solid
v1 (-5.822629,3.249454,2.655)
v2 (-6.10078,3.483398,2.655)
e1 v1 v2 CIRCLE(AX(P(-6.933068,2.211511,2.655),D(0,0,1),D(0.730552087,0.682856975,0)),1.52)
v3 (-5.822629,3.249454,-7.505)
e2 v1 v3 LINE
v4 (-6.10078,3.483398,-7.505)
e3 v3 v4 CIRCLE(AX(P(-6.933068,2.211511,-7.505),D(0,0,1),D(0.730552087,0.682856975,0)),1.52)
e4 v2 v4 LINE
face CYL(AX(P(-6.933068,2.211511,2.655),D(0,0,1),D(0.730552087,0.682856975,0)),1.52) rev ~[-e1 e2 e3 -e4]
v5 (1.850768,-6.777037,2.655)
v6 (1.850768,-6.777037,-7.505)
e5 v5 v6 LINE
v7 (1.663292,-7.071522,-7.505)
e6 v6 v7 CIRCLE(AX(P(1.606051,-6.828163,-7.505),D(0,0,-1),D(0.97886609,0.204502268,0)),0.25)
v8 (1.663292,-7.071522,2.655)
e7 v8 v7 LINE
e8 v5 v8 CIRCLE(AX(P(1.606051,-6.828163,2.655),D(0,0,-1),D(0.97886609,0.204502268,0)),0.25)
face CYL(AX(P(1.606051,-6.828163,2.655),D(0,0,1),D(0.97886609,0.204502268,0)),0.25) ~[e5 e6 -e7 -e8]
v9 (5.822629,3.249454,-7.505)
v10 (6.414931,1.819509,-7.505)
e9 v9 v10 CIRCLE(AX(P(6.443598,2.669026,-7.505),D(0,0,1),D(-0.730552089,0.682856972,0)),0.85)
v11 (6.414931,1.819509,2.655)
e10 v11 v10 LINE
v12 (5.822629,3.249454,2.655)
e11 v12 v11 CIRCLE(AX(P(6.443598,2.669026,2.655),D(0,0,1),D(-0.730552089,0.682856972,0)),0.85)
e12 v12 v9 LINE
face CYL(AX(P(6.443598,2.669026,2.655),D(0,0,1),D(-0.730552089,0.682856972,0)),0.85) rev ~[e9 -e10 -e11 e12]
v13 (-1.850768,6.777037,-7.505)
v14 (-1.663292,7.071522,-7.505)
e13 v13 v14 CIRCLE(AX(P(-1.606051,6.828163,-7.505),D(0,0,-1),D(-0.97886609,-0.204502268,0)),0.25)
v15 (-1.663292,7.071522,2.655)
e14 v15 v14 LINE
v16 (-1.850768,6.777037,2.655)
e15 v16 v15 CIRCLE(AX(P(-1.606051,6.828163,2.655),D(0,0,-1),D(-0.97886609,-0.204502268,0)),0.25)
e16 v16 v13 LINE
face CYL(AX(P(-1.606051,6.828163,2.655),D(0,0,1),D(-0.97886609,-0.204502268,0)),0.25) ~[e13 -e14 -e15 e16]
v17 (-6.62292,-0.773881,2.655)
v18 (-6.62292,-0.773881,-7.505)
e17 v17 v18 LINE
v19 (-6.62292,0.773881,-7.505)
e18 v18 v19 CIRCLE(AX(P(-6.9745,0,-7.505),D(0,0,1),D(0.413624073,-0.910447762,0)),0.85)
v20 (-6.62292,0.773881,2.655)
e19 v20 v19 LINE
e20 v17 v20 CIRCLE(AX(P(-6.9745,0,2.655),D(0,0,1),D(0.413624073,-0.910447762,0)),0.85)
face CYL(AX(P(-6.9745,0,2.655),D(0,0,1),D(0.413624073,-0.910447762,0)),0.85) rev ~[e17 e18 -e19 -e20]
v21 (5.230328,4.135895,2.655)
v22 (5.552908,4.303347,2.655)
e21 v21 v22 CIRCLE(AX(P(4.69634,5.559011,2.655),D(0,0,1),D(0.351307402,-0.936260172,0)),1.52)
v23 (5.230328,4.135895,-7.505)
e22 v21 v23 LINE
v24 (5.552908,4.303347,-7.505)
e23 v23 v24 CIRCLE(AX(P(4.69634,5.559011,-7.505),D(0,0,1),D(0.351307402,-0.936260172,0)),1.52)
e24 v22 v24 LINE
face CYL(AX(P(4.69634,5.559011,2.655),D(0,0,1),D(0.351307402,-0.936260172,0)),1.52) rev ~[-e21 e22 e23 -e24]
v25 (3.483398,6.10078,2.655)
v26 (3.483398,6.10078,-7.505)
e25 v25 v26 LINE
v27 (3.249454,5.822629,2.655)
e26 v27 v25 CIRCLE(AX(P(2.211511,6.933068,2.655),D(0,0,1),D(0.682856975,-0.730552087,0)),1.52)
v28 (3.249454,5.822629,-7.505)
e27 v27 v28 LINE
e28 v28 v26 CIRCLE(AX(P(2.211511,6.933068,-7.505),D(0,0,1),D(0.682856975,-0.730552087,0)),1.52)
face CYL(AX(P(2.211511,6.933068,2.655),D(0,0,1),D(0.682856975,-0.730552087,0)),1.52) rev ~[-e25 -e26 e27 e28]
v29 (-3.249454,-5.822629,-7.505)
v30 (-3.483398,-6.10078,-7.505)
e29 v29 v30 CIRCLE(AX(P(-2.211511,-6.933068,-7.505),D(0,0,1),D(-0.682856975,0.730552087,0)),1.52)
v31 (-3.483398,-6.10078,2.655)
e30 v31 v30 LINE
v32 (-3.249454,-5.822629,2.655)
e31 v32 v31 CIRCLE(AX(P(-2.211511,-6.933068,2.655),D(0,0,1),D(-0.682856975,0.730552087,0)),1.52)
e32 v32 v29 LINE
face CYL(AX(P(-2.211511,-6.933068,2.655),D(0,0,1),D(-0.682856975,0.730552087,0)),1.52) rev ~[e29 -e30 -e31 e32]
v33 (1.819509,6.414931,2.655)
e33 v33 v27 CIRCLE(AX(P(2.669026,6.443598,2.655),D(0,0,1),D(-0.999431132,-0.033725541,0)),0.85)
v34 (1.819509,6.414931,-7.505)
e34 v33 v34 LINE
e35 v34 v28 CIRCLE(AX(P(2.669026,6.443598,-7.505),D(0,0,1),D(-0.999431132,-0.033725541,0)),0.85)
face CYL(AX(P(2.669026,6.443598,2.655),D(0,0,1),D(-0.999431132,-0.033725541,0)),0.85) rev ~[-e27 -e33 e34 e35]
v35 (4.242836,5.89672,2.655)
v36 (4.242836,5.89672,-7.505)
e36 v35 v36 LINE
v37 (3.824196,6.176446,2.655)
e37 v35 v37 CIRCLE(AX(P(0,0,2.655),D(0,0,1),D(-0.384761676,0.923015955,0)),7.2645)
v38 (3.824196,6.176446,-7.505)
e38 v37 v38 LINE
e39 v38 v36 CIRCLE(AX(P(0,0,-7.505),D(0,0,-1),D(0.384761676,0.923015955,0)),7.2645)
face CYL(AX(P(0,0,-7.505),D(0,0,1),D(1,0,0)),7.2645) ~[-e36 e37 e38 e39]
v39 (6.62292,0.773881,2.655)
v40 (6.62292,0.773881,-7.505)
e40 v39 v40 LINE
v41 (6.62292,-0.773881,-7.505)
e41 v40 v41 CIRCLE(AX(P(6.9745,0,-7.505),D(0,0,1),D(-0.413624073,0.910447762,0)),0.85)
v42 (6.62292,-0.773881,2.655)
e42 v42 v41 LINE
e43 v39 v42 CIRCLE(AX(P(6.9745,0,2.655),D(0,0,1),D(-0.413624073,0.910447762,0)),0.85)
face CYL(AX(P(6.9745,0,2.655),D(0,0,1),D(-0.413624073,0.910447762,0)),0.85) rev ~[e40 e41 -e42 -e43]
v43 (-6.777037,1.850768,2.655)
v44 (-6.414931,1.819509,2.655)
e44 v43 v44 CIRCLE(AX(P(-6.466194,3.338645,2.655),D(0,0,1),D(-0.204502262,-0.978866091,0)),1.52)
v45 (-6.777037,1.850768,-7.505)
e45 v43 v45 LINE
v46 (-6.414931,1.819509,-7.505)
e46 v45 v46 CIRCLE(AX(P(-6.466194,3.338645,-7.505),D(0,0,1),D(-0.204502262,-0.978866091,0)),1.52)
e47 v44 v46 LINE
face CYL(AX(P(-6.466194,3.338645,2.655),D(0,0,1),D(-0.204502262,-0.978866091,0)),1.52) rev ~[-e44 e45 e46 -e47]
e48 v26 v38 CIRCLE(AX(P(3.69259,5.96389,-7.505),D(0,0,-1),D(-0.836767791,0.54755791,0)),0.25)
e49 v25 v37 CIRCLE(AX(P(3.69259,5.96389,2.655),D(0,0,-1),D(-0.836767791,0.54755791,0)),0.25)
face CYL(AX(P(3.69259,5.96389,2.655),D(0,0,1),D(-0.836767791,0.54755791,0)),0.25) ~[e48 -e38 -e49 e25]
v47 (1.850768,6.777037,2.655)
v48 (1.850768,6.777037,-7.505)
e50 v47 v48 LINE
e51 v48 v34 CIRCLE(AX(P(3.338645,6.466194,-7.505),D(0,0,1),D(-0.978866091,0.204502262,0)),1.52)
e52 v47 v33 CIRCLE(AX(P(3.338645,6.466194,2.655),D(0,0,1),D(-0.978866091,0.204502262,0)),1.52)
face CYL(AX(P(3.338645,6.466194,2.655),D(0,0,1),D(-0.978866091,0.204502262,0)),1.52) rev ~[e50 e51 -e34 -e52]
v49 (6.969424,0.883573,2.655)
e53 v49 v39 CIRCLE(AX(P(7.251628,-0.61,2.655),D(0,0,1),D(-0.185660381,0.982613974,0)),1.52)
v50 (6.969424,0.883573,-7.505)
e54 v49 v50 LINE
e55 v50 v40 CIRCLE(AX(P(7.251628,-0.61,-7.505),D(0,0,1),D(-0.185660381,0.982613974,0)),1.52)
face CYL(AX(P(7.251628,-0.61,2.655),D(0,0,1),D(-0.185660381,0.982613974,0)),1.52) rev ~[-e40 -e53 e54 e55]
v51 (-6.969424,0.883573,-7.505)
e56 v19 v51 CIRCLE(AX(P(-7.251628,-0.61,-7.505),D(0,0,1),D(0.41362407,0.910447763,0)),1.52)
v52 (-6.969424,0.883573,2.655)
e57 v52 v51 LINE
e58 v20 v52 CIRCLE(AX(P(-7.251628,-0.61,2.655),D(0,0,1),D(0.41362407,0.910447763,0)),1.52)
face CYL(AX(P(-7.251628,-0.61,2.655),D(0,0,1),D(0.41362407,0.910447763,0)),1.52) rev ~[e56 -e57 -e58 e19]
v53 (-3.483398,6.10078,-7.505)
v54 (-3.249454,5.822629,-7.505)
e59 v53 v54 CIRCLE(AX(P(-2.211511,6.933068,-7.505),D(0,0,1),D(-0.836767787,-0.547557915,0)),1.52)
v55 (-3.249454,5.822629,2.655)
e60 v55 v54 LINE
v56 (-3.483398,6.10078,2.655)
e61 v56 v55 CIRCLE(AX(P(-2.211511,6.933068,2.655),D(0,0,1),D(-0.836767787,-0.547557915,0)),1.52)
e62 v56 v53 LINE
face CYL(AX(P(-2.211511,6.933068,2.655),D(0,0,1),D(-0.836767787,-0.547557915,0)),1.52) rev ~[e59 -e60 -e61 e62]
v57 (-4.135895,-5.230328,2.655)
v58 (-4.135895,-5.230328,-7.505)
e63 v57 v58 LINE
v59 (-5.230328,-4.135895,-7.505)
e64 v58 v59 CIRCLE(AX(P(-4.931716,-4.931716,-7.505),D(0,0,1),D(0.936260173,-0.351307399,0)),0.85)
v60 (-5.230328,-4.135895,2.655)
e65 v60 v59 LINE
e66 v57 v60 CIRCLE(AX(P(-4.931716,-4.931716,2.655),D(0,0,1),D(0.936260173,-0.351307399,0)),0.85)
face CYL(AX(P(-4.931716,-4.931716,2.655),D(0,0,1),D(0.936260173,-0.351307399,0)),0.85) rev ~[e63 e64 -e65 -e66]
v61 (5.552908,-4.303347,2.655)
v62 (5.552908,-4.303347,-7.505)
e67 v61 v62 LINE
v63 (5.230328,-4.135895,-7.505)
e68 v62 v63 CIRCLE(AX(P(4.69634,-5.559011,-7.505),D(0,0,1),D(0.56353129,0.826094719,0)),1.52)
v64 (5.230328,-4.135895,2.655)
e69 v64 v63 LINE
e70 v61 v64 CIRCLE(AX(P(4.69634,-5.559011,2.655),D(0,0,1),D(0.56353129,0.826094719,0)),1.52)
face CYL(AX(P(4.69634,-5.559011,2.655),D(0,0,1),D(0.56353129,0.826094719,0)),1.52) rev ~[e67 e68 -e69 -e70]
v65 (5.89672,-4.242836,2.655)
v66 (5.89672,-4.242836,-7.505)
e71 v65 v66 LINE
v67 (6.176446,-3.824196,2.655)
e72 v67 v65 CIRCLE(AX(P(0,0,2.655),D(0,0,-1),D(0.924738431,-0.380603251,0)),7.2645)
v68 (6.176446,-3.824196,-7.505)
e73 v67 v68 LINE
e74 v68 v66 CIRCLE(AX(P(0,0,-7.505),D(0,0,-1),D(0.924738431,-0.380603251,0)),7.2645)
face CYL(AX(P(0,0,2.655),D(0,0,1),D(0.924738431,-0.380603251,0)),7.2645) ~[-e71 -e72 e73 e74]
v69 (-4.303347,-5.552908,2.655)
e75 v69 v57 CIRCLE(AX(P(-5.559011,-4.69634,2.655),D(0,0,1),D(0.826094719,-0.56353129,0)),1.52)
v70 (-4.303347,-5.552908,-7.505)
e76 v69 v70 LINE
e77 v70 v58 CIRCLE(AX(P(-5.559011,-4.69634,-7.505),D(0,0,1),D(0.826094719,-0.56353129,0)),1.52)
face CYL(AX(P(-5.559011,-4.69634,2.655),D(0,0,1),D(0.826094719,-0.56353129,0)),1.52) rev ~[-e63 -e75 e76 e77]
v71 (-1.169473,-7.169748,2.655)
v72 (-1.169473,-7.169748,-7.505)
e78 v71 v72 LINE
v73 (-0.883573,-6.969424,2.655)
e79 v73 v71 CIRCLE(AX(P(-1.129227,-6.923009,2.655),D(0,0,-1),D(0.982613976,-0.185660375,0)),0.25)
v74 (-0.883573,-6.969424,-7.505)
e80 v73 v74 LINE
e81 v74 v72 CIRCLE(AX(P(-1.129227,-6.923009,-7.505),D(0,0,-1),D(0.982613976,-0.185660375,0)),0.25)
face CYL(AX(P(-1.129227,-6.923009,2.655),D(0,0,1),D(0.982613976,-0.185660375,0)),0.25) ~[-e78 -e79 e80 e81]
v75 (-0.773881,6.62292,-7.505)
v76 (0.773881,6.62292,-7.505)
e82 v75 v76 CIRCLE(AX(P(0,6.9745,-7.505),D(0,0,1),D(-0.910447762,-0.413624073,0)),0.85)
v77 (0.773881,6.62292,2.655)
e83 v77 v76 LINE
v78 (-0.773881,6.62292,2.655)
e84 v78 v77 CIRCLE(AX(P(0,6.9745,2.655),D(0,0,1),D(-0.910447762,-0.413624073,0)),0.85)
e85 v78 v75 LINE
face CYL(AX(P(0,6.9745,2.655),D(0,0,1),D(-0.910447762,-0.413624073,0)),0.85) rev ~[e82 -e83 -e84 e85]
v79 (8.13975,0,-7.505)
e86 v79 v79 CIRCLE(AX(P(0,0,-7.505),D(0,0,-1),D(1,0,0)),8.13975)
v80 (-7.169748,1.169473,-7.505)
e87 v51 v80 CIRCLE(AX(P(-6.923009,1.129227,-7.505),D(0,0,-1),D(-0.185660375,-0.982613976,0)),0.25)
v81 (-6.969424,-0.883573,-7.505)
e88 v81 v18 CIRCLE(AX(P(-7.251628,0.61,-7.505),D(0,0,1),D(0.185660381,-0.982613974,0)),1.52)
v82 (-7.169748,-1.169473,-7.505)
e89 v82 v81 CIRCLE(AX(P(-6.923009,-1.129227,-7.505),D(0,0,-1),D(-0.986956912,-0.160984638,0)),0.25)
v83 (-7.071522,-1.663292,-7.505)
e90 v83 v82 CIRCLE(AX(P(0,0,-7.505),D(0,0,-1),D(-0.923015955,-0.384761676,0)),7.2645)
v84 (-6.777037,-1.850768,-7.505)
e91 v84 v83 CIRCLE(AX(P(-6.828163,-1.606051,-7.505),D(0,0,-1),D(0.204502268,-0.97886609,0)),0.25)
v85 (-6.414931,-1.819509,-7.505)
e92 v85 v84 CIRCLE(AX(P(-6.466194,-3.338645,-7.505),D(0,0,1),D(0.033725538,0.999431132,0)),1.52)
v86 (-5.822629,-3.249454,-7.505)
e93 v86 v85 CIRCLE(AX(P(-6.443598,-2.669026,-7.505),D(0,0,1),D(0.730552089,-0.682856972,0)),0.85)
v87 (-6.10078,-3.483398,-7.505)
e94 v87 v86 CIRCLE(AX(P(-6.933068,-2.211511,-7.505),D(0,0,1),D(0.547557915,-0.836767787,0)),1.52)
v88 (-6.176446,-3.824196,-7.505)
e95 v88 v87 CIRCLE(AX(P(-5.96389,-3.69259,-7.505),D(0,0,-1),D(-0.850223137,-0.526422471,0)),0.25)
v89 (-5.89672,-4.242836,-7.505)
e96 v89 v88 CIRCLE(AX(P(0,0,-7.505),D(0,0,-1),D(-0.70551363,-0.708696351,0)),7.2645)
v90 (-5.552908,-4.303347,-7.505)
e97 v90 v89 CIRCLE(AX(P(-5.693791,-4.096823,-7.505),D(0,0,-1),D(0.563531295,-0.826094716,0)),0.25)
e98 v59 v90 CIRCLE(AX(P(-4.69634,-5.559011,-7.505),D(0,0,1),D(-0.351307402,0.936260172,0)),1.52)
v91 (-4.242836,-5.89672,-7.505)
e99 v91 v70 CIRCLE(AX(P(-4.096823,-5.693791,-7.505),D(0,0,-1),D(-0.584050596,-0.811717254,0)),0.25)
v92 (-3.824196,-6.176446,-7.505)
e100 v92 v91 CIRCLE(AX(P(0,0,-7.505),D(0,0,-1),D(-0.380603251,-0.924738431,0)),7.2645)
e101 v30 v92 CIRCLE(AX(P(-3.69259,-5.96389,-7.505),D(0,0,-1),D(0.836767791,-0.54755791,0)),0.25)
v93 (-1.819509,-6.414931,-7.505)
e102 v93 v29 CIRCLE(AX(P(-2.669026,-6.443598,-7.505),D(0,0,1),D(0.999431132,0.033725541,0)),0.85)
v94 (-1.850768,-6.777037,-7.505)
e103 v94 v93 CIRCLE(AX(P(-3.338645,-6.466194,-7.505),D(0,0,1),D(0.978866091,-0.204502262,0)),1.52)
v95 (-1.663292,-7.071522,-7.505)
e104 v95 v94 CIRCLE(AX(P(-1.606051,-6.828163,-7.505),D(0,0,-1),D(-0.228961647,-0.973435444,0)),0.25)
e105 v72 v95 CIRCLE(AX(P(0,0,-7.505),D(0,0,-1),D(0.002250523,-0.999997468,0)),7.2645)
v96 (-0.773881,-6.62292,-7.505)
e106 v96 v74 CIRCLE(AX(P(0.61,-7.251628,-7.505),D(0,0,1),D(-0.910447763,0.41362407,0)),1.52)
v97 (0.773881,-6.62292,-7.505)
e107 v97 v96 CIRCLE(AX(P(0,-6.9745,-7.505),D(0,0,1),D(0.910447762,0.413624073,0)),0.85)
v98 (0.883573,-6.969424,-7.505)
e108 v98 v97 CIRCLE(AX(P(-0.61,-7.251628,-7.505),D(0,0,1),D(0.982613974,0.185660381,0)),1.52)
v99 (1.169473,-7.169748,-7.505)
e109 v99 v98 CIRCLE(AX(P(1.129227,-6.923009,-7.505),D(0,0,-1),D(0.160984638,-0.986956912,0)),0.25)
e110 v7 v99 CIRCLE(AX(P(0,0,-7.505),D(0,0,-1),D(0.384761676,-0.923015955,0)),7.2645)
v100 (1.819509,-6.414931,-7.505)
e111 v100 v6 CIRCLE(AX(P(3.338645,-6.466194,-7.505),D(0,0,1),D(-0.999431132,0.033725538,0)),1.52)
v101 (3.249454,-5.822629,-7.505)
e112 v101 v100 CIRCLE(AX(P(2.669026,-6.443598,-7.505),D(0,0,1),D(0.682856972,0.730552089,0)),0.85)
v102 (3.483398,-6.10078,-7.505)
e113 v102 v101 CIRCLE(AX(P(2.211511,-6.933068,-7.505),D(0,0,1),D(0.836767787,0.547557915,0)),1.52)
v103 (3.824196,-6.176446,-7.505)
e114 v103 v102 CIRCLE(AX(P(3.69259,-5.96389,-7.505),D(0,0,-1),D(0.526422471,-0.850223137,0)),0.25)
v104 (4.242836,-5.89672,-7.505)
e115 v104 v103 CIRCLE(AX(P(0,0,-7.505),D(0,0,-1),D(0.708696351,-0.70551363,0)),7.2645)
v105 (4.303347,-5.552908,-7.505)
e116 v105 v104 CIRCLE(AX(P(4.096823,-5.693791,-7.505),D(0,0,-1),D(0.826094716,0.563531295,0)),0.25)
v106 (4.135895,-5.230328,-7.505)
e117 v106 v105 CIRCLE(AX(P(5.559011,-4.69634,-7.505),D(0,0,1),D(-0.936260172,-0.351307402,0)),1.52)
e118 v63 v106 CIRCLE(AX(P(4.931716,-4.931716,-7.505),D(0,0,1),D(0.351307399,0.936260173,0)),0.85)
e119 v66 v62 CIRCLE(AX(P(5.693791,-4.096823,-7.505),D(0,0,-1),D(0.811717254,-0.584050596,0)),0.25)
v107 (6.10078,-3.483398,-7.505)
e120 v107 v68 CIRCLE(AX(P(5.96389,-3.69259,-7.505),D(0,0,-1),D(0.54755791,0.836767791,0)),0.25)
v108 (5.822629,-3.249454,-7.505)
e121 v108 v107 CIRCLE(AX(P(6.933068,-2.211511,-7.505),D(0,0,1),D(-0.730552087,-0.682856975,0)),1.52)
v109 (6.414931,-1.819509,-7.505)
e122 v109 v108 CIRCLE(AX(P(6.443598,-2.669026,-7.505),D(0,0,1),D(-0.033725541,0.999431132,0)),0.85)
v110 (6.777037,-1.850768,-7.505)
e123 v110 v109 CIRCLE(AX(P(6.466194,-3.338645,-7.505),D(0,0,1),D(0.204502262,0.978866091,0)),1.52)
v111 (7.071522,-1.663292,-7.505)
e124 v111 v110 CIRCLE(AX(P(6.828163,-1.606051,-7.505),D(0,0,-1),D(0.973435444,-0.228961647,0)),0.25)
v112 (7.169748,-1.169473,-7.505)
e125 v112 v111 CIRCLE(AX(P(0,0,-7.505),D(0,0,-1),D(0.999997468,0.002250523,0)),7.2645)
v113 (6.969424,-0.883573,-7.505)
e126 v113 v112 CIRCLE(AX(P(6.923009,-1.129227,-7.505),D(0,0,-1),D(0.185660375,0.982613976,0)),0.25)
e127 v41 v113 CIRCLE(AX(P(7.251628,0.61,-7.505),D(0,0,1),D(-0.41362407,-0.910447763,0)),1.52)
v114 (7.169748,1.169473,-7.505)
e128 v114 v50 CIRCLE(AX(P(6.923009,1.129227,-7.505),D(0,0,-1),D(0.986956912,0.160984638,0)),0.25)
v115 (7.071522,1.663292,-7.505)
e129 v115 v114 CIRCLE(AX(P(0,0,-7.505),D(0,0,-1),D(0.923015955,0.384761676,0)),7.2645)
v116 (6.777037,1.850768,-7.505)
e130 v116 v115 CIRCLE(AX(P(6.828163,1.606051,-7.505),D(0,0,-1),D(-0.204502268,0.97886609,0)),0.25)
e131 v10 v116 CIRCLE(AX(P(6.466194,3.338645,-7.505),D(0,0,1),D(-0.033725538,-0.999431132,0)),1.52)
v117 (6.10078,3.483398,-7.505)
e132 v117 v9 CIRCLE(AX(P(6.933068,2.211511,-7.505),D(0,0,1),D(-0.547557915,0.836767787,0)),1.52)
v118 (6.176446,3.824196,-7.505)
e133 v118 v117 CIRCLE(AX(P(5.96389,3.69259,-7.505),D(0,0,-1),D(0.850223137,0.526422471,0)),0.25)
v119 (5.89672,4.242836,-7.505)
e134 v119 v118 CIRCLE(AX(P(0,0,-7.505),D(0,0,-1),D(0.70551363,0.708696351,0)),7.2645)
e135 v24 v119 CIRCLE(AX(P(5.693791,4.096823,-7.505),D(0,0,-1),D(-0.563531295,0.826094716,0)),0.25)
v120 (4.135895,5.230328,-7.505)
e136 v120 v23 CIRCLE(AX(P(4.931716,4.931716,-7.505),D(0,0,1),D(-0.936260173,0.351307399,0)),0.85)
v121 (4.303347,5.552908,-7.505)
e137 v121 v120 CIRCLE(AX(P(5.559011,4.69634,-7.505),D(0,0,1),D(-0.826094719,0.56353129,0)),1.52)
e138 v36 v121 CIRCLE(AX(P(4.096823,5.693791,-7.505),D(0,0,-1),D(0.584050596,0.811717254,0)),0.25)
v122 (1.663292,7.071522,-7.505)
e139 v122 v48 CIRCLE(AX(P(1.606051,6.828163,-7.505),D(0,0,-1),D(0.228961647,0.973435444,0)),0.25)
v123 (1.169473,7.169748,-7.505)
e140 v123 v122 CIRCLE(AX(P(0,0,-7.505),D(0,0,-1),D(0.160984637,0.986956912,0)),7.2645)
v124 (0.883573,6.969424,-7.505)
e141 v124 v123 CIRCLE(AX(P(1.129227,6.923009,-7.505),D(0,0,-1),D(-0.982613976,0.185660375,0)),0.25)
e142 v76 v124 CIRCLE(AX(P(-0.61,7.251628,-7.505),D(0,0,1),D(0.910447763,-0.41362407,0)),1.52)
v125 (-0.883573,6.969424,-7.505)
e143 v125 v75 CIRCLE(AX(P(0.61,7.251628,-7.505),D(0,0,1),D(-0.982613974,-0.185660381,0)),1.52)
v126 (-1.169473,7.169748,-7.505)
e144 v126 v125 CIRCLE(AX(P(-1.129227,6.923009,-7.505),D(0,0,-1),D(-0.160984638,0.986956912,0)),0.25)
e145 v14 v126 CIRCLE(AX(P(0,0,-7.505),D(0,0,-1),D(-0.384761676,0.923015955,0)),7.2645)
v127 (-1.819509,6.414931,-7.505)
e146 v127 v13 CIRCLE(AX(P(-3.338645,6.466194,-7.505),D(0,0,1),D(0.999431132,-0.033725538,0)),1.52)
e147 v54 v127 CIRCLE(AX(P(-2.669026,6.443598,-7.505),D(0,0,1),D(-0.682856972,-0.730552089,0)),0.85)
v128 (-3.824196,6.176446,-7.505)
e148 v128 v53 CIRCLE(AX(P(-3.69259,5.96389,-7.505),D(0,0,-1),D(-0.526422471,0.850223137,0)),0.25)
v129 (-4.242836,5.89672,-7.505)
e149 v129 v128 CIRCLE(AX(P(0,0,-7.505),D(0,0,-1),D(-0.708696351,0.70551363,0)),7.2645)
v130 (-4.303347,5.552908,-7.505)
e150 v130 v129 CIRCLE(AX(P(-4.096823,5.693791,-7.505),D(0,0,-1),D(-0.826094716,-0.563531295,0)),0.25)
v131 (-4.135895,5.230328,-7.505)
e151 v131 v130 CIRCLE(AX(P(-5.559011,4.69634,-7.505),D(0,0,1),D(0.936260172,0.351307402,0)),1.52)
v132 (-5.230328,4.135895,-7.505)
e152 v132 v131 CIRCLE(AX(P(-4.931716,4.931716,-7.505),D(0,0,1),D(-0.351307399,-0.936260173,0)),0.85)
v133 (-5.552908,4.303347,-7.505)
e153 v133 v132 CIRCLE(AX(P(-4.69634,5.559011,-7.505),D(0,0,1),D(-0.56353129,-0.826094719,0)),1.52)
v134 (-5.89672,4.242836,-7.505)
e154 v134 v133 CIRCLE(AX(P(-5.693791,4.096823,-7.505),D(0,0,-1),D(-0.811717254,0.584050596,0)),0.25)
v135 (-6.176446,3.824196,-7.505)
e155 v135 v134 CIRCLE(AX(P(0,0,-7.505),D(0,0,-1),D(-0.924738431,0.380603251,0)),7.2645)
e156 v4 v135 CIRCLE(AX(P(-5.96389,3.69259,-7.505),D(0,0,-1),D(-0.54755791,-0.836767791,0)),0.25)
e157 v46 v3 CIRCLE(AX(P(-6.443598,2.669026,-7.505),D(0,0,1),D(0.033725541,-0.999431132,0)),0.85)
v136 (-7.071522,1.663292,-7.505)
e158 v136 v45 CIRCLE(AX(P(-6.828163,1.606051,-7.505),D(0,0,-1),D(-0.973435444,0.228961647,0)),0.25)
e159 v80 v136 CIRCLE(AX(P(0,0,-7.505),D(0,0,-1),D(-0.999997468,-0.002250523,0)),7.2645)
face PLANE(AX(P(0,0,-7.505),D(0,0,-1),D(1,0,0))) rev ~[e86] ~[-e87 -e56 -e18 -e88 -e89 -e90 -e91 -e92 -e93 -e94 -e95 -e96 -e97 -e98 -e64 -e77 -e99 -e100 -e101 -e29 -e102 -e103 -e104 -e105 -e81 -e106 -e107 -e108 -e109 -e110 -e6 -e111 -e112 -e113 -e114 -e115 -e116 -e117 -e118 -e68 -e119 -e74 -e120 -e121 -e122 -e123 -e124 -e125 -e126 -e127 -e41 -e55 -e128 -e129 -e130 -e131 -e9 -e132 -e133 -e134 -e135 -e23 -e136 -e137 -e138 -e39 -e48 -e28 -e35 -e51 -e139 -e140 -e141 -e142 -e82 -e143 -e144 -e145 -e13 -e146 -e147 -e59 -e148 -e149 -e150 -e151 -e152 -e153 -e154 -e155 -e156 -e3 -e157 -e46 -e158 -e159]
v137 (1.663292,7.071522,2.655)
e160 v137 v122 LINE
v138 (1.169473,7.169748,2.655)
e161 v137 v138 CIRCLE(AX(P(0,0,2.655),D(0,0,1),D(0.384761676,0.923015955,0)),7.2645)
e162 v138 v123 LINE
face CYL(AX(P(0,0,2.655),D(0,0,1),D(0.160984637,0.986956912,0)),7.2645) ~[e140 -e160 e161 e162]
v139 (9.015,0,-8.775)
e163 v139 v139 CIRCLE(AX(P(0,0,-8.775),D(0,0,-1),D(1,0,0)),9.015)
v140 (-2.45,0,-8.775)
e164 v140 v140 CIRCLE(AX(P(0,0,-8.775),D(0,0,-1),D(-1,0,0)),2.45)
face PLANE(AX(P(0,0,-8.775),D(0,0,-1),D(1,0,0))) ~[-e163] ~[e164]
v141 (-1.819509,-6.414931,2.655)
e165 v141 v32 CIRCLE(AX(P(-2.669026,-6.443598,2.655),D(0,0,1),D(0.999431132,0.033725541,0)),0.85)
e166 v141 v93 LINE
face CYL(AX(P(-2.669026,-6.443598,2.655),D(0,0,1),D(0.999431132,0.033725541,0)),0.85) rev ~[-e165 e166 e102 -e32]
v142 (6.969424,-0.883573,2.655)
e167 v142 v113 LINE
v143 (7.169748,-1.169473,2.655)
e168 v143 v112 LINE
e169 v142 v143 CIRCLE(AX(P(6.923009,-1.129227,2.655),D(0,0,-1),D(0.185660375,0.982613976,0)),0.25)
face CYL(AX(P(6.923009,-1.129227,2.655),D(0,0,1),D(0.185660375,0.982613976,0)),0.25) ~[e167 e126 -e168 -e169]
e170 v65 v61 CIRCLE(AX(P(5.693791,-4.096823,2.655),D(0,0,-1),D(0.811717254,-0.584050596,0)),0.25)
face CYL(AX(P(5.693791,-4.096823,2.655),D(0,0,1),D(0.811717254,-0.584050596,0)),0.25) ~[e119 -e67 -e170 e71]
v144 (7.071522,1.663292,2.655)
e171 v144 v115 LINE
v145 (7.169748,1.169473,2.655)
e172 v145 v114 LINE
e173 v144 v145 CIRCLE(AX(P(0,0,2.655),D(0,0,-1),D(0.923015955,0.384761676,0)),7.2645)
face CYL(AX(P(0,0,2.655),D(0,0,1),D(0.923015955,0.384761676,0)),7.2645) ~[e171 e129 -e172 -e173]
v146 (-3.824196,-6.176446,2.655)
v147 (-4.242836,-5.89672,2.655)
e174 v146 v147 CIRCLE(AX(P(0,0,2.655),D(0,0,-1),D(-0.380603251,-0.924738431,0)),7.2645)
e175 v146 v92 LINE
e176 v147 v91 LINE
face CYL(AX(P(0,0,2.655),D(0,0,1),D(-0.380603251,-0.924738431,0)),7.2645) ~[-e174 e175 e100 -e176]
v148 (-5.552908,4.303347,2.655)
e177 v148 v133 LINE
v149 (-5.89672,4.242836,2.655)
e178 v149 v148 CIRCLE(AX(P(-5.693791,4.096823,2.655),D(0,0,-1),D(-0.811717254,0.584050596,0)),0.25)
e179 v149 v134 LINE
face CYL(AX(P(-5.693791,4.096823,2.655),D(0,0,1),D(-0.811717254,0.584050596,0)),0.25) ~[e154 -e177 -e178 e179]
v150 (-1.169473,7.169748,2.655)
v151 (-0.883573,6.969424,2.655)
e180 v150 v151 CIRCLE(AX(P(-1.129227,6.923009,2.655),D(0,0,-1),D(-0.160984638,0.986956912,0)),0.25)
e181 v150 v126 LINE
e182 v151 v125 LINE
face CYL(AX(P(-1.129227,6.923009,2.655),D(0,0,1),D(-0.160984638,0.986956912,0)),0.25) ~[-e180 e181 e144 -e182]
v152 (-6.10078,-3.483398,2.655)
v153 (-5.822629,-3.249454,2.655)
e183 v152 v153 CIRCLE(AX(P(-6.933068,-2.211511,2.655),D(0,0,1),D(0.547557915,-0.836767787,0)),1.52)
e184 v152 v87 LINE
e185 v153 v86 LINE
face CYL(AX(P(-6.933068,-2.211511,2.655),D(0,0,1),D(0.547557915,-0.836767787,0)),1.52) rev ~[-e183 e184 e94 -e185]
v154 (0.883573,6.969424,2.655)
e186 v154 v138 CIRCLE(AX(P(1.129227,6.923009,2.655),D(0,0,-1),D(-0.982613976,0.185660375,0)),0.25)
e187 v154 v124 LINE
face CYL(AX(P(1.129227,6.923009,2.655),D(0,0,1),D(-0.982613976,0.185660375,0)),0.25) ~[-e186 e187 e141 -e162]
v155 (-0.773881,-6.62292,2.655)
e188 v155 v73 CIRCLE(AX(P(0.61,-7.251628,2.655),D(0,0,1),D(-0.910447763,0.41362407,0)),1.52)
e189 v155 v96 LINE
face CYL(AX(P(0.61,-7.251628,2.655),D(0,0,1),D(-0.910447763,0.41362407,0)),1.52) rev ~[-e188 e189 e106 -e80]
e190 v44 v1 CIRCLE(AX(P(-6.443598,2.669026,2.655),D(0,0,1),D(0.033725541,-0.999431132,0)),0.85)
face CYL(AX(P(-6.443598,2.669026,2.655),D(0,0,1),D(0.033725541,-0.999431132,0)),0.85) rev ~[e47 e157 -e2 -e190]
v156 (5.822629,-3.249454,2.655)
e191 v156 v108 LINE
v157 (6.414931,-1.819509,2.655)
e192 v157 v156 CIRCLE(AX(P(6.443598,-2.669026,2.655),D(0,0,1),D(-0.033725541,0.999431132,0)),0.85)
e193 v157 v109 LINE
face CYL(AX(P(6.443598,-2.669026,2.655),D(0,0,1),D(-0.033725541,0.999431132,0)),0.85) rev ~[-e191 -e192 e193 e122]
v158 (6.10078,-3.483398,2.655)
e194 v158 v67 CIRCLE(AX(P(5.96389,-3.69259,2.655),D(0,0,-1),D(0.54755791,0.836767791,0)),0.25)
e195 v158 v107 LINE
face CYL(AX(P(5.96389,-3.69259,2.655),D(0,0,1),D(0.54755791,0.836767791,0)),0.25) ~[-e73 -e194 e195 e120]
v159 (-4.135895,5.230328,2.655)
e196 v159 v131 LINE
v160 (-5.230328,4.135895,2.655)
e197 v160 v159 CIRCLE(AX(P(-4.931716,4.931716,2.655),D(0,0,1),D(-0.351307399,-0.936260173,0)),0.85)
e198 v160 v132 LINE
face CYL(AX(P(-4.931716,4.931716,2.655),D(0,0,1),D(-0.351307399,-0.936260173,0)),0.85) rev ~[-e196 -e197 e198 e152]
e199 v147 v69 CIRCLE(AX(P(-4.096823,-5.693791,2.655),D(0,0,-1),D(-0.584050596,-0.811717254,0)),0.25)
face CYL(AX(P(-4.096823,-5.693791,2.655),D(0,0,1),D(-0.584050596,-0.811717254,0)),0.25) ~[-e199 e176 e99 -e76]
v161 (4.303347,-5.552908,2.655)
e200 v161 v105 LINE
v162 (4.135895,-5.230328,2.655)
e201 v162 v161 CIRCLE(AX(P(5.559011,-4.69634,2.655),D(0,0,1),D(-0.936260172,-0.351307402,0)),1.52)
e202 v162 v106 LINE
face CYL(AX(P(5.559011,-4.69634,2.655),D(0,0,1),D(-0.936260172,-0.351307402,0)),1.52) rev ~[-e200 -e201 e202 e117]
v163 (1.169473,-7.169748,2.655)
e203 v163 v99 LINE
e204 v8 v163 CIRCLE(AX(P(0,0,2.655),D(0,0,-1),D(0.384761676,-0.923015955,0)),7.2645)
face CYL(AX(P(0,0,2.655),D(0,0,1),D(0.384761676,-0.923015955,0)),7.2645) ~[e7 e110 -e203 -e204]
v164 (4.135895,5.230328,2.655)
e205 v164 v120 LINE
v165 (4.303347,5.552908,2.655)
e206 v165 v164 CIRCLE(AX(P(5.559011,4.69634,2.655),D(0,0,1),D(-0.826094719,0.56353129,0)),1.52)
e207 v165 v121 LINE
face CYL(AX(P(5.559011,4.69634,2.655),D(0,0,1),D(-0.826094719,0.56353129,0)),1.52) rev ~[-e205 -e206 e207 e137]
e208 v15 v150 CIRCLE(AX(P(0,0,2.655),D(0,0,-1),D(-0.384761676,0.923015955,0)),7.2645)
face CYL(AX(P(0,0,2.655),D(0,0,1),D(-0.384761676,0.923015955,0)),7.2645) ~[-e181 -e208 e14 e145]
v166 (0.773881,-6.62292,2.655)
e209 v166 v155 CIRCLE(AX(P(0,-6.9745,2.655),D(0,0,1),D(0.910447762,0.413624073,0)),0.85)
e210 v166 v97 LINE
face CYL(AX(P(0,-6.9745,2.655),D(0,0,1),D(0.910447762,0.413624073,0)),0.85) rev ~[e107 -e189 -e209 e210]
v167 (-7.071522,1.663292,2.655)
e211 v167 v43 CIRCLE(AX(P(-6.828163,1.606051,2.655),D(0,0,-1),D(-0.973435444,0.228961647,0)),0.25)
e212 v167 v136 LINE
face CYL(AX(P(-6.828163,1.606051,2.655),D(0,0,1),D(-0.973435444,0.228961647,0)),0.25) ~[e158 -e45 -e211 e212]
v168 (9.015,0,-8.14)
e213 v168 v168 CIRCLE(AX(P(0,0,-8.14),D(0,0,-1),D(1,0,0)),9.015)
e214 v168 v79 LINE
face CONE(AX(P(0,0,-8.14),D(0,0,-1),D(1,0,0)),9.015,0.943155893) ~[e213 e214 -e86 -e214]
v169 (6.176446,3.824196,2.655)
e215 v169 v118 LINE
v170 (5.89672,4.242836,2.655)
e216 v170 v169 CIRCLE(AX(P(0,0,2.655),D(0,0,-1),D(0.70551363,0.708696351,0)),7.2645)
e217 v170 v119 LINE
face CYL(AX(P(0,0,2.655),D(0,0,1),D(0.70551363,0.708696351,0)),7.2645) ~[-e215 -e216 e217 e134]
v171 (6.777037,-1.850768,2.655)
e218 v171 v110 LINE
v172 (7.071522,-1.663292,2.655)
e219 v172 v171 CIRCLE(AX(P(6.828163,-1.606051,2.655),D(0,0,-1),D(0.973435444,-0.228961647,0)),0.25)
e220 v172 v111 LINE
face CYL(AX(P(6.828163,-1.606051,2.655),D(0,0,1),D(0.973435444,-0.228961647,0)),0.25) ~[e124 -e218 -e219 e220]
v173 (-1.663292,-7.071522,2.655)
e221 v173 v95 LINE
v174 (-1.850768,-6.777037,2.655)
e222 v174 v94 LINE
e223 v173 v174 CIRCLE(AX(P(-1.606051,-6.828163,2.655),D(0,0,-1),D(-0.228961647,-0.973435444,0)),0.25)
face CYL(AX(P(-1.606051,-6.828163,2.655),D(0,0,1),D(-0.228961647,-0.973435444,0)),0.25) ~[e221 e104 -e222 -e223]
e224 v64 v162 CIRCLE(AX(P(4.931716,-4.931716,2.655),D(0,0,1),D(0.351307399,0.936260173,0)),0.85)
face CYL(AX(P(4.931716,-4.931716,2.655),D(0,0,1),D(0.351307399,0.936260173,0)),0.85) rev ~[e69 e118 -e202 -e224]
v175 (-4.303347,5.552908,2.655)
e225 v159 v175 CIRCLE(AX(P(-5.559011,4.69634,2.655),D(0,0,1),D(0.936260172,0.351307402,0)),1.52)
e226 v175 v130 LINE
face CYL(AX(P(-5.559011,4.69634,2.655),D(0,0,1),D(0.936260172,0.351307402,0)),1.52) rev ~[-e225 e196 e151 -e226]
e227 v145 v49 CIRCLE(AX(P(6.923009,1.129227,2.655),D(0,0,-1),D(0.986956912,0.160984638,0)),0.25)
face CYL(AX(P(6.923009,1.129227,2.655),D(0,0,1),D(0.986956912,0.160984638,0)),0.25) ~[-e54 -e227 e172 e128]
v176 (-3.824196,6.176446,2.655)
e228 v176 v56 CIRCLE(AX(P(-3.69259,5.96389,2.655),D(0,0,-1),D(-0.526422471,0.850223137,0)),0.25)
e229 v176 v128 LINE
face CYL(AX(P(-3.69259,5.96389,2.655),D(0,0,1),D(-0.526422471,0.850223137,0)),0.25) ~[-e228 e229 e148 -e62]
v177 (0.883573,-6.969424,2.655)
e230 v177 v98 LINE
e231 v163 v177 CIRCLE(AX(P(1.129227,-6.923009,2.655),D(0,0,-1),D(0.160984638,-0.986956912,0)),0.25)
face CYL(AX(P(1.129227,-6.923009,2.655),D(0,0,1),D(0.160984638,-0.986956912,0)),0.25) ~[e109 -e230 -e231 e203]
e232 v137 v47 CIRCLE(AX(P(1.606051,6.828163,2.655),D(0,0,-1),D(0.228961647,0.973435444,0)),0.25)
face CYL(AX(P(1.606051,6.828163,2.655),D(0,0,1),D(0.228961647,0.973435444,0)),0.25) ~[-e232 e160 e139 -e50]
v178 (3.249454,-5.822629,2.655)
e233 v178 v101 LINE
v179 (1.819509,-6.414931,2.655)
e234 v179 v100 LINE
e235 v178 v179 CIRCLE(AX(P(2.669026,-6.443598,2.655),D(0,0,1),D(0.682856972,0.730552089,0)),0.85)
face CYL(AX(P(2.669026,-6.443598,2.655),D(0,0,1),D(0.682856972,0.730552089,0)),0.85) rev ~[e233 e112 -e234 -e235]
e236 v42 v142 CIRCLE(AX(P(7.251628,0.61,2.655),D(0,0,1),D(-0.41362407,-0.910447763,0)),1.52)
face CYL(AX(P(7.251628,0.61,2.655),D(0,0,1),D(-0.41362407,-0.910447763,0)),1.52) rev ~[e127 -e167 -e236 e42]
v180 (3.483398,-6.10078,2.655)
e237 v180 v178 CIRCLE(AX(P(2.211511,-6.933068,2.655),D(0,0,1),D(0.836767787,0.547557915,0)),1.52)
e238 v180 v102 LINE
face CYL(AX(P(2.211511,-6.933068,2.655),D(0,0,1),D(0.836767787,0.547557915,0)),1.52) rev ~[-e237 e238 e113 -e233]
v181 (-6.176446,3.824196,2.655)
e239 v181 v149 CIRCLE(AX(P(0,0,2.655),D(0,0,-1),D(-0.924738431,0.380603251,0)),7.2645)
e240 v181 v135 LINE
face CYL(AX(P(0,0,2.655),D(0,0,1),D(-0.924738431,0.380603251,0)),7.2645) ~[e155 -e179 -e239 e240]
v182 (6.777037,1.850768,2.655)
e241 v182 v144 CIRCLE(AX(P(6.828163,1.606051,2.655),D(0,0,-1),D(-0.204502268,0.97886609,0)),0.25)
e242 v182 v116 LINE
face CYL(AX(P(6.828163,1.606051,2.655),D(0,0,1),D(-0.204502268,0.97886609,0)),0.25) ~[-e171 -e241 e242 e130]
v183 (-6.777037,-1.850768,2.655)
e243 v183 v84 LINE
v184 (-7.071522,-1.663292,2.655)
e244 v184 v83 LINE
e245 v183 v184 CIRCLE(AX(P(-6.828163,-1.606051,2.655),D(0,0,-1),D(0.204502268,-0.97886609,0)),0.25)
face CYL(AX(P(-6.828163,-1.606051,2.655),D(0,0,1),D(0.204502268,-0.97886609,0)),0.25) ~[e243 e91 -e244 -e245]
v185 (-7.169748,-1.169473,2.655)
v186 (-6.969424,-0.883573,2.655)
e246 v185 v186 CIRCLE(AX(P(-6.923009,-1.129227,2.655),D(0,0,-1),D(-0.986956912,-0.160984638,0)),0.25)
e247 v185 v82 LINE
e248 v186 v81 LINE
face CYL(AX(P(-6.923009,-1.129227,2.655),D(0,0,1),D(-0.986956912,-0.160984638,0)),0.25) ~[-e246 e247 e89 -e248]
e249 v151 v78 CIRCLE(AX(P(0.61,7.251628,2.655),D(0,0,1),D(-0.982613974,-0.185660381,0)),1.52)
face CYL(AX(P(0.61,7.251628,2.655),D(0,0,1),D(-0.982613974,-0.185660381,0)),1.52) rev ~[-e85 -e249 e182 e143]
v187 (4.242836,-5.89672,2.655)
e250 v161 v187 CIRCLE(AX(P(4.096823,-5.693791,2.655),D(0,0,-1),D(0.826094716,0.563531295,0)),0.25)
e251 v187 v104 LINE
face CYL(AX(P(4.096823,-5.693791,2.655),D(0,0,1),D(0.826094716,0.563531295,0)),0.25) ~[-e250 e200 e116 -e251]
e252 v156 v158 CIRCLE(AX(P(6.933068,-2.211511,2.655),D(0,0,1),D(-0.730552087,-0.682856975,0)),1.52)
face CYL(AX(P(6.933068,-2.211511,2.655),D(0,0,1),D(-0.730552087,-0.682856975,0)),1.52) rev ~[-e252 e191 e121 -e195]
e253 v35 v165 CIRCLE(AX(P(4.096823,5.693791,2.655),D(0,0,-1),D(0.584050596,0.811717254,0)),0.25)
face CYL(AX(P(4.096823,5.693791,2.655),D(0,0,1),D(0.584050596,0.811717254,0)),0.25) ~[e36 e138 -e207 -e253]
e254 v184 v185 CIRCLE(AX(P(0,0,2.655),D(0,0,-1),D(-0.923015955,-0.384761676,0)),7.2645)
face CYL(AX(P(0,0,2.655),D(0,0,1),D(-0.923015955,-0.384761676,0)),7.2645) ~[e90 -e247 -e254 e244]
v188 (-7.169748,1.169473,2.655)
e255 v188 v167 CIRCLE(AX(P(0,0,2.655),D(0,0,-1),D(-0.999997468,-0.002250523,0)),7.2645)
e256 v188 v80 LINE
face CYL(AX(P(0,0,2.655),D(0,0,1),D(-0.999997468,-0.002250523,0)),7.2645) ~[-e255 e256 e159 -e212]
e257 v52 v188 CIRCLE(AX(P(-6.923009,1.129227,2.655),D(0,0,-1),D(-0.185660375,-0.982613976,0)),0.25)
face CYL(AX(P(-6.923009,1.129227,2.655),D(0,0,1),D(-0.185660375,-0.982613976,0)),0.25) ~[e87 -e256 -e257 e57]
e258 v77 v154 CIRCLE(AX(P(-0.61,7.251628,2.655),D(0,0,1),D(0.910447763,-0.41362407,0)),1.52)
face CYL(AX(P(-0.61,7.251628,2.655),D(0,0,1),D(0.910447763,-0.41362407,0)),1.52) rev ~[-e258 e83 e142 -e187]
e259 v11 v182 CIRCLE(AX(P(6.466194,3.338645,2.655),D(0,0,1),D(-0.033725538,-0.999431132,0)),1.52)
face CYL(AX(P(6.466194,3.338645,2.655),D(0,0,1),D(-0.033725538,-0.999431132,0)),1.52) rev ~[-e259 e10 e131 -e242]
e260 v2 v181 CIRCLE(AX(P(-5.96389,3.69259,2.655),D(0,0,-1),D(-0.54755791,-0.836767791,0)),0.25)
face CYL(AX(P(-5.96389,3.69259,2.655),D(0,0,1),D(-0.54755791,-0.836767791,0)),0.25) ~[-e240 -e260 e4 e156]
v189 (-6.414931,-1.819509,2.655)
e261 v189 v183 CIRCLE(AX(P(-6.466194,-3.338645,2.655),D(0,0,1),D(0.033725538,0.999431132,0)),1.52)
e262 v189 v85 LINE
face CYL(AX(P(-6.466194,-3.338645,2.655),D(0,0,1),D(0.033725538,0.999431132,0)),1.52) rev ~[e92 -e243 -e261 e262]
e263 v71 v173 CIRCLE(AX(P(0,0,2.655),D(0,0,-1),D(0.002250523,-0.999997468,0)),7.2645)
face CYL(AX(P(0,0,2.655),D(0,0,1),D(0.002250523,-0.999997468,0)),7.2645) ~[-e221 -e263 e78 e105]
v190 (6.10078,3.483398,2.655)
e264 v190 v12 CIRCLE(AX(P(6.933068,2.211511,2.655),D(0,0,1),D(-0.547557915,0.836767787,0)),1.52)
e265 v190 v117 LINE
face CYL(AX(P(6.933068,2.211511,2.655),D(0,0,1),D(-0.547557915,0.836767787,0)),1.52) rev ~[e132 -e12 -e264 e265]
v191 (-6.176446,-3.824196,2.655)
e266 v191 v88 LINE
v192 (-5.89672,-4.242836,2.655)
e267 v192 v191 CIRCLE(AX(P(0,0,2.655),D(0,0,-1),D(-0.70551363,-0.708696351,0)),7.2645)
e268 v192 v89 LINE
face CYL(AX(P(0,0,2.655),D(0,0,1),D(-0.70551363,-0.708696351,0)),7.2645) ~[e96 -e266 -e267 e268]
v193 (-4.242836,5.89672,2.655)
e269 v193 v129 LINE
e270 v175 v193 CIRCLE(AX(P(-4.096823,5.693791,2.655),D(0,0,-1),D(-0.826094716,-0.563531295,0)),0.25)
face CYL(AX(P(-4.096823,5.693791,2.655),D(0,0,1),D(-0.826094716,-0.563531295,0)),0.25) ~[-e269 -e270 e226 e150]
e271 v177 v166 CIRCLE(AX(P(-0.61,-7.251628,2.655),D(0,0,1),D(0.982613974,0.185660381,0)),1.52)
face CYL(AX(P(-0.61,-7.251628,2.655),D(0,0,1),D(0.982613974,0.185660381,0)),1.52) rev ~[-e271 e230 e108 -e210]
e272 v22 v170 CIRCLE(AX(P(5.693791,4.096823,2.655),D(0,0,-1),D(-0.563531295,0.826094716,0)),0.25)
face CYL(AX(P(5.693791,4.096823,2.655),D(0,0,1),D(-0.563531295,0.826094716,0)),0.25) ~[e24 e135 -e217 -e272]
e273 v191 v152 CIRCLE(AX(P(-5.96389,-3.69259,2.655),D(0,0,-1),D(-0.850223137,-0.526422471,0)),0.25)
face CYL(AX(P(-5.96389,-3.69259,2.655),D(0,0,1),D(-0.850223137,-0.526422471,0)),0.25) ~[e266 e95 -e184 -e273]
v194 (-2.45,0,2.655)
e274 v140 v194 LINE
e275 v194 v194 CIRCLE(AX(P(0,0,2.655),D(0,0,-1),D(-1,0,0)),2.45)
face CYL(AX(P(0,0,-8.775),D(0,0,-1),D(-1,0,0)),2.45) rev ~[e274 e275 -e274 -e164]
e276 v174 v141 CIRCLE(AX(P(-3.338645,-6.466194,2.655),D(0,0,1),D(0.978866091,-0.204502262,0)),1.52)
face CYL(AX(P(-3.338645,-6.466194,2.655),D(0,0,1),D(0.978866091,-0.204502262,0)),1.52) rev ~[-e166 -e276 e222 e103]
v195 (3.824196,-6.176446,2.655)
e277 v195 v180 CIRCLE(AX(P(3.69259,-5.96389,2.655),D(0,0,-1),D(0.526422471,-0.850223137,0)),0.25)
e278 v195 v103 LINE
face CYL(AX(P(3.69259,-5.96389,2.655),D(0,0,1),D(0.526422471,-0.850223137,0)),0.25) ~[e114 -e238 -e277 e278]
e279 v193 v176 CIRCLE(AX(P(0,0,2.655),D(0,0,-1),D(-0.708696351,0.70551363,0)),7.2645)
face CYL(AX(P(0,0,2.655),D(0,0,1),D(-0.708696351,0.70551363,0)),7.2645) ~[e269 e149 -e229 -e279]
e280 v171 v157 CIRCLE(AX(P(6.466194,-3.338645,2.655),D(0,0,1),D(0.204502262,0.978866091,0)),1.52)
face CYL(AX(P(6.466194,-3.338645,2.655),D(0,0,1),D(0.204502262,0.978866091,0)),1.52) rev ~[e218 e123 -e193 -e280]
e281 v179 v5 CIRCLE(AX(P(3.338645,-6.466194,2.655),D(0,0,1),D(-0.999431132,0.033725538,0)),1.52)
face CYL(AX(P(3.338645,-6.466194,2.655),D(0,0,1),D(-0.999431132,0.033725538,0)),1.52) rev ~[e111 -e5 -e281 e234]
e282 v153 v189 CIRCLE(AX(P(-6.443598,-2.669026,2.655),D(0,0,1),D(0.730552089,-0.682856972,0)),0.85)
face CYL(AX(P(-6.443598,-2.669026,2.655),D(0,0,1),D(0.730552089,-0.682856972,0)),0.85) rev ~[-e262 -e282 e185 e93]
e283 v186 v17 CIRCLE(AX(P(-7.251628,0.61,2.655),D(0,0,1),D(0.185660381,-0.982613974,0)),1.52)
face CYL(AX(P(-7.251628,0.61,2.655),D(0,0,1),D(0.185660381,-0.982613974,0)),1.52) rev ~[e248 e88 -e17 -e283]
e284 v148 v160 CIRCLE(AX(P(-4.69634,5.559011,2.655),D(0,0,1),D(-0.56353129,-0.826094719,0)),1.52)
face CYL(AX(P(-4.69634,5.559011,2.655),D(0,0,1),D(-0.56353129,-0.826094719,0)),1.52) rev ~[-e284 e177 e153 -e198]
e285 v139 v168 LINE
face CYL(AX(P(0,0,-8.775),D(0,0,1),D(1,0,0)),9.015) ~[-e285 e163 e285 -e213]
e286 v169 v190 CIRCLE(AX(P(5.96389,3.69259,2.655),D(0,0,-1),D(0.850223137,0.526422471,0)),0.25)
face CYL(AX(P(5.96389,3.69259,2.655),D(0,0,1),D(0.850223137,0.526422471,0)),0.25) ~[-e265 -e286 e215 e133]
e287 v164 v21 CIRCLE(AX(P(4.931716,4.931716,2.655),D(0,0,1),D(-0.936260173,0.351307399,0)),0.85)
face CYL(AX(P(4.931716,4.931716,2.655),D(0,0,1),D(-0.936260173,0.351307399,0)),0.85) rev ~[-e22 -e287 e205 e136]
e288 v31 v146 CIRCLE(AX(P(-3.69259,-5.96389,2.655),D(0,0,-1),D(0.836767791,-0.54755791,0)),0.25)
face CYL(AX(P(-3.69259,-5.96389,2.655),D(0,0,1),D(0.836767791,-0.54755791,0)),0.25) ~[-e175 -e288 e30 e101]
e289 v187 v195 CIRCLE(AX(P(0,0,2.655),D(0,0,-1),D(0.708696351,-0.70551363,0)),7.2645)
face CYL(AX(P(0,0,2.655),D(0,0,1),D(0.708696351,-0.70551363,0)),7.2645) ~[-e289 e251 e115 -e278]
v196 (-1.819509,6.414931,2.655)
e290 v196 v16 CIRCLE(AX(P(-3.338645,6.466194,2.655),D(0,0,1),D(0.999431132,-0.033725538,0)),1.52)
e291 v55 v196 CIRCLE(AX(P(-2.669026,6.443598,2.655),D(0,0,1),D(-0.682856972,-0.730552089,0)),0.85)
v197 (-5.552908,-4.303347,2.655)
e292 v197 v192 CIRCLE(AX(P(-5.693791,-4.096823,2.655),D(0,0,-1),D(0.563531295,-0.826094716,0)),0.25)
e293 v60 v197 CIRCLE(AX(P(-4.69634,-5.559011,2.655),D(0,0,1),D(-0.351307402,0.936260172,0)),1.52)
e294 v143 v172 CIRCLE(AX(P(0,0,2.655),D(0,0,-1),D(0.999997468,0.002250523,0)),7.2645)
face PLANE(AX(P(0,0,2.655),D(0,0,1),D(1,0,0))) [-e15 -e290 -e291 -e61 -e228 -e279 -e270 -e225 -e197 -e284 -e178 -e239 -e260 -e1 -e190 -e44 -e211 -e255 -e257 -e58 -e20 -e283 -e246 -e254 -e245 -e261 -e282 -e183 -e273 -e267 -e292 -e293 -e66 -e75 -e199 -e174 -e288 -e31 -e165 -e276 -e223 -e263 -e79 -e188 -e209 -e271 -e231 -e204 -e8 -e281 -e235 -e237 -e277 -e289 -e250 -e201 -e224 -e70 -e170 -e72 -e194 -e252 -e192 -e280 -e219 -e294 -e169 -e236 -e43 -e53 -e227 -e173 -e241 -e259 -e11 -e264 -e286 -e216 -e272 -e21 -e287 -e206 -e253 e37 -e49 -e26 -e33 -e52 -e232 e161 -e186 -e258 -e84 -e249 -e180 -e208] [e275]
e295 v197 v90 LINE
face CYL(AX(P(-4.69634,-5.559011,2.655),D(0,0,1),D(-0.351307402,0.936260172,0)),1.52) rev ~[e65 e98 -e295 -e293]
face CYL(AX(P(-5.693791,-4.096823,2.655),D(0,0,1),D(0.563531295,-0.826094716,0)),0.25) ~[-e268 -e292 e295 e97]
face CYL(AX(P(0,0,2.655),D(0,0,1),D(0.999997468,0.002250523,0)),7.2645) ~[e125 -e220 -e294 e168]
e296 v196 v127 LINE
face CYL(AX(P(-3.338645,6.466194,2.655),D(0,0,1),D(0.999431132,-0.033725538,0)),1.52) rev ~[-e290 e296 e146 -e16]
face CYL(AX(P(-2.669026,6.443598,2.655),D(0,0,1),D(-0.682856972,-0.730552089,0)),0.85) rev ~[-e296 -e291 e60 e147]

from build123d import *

# Parameters (mm, degrees)
CUT_EXTRUDE1_START = 2.655
CUT_EXTRUDE1_DEPTH = 10.16
CIRPATTERN1_COUNT  = 16
SKETCH4_R          = 1.7526
CUT_EXTRUDE2_DEPTH = 16.477114557
CUT_EXTRUDE3_DEPTH = 1.31445
CIRPATTERN3_COUNT  = 2
CIRPATTERN3_ANGLE  = 90
CHAMFER1_SIZE      = 0.28075
CUT_EXTRUDE4_START = -6.12
SKETCH7_R          = 9.015
CUT_EXTRUDE4_DEPTH = 6.12
SKETCH8_R          = 2.45
CUT_EXTRUDE5_DEPTH = 18.122656044


with BuildPart() as part:
    # Sketch2 → Revolve1 (revolve)
    with BuildSketch(Plane(origin=(0, 0, 0), x_dir=(0, 0, -1), z_dir=(1, 0, 0)), mode=Mode.PRIVATE) as revolve1_sk:
        Polygon((-8.775, 2.38125), (8.775, 2.38125), (8.775, 9.015), (8.14, 9.015), (7.505, 8.13975), (7.505, 7.2645), (-2.655, 7.2645), (-2.655, 8.13975), (-3.29, 9.015), (-8.775, 9.015), align=None)
    revolve(revolve1_sk.sketch.rotate(Axis((0, 0, 8.775), (0, 0, -1)), 90), axis=Axis((0, 0, 8.775), (0, 0, -1)))

    # Sketch3 → Cut-Extrude1 (cut)
    with BuildSketch(Plane.XY.offset(CUT_EXTRUDE1_START)):
        with BuildLine():
            Line((3.757926927, 9.015), (-3.757926927, 9.015))
            Line((-3.757926927, 9.015), (-2.795101196, 6.705249403))
            ThreePointArc((-2.795101196, 6.705249403), (-1.995846132, 6.984952288), (-1.169472895, 7.169748489))
            ThreePointArc((-1.169472895, 7.169748489), (-0.985767742, 7.127751824), (-0.883573242, 6.969424355))
            ThreePointArc((-0.883573242, 6.969424355), (-0.839120956, 6.792881518), (-0.773880597, 6.622919538))
            ThreePointArc((-0.773880597, 6.622919538), (0, 6.1245), (0.773880597, 6.622919538))
            ThreePointArc((0.773880597, 6.622919538), (0.839120956, 6.792881518), (0.883573242, 6.969424355))
            ThreePointArc((0.883573242, 6.969424355), (0.985767742, 7.127751824), (1.169472895, 7.169748489))
            ThreePointArc((1.169472895, 7.169748489), (1.995846132, 6.984952288), (2.795101196, 6.705249403))
            Line((2.795101196, 6.705249403), (3.757926927, 9.015))
        make_face()
    cut_extrude1 = extrude(amount=-CUT_EXTRUDE1_DEPTH, mode=Mode.SUBTRACT)

    # CirPattern1: Cut-Extrude1 ×16 about axis
    cirpattern1_axis = Axis((0, 0, 0), (0, 0, 1))
    for i in range(1, CIRPATTERN1_COUNT):
        add(cut_extrude1.rotate(cirpattern1_axis, i * 360 / CIRPATTERN1_COUNT), mode=Mode.SUBTRACT)

    # Sketch4 → Cut-Extrude2 (cut, through all)
    with BuildSketch(Plane(origin=(0, 0, 0), x_dir=(0, -1, 0), z_dir=(1, 0, 0))):
        with Locations(Location((0, -5.715, 0), (0, 0, 270))):
            Circle(SKETCH4_R)
    cut_extrude2 = extrude(amount=CUT_EXTRUDE2_DEPTH, mode=Mode.SUBTRACT)

    # Sketch5 → Revolve2 (revolve)
    with BuildSketch(Plane.XY.offset(5.715), mode=Mode.PRIVATE) as revolve2_sk:
        Polygon((2.38125, -1.3716), (2.38125, 0), (8.842998261, 0), (8.842998261, -1.3716), (8.461998261, -1.7526), (2.76225, -1.7526), align=None)
    revolve2 = revolve(revolve2_sk.sketch.rotate(Axis((2.38125, 0, 5.715), (1, 0, 0)), 270), axis=Axis((2.38125, 0, 5.715), (1, 0, 0)))

    # Sketch6 → Cut-Extrude3 (cut)
    with BuildSketch(Plane(origin=(8.842998261, 5.384140679, 0), x_dir=(0, -1, 0), z_dir=(-1, 0, 0))):
        Polygon((5.384140679, 6.726864082), (4.507840679, 6.220932041), (4.507840679, 5.209067959), (5.384140679, 4.703135918), (6.260440679, 5.209067959), (6.260440679, 6.220932041), align=None)
    cut_extrude3 = extrude(amount=CUT_EXTRUDE3_DEPTH, mode=Mode.SUBTRACT)

    # CirPattern3: Cut-Extrude2, Revolve2, Cut-Extrude3 ×2 about axis
    cirpattern3_axis = Axis((0, 0, 0), (0, 0, 1))
    add([cut_extrude2.rotate(cirpattern3_axis, i * CIRPATTERN3_ANGLE / (CIRPATTERN3_COUNT - 1)) for i in range(1, CIRPATTERN3_COUNT)], mode=Mode.SUBTRACT)
    add([revolve2.rotate(cirpattern3_axis, i * CIRPATTERN3_ANGLE / (CIRPATTERN3_COUNT - 1)) for i in range(1, CIRPATTERN3_COUNT)])
    add([cut_extrude3.rotate(cirpattern3_axis, i * CIRPATTERN3_ANGLE / (CIRPATTERN3_COUNT - 1)) for i in range(1, CIRPATTERN3_COUNT)], mode=Mode.SUBTRACT)

    # Chamfer1
    chamfer1_edges = [part.edges().sort_by_distance(p)[0] for p in [
        (-2.38125, 0, 8.775),
        (-9.015, 0, 8.775),
    ]]
    chamfer(chamfer1_edges, length=CHAMFER1_SIZE)

    # Sketch7 → Cut-Extrude4 (cut)
    with BuildSketch(Plane.XY.offset(8.775).offset(CUT_EXTRUDE4_START)):
        Circle(SKETCH7_R)
    extrude(amount=CUT_EXTRUDE4_DEPTH, mode=Mode.SUBTRACT)

    # Sketch8 → Cut-Extrude5 (cut, through all)
    with BuildSketch(Plane(origin=(0, 0, -8.775), x_dir=(-1, 0, 0), z_dir=(0, 0, -1))):
        Circle(SKETCH8_R)
    extrude(amount=-CUT_EXTRUDE5_DEPTH, mode=Mode.SUBTRACT)


solid = part.part
